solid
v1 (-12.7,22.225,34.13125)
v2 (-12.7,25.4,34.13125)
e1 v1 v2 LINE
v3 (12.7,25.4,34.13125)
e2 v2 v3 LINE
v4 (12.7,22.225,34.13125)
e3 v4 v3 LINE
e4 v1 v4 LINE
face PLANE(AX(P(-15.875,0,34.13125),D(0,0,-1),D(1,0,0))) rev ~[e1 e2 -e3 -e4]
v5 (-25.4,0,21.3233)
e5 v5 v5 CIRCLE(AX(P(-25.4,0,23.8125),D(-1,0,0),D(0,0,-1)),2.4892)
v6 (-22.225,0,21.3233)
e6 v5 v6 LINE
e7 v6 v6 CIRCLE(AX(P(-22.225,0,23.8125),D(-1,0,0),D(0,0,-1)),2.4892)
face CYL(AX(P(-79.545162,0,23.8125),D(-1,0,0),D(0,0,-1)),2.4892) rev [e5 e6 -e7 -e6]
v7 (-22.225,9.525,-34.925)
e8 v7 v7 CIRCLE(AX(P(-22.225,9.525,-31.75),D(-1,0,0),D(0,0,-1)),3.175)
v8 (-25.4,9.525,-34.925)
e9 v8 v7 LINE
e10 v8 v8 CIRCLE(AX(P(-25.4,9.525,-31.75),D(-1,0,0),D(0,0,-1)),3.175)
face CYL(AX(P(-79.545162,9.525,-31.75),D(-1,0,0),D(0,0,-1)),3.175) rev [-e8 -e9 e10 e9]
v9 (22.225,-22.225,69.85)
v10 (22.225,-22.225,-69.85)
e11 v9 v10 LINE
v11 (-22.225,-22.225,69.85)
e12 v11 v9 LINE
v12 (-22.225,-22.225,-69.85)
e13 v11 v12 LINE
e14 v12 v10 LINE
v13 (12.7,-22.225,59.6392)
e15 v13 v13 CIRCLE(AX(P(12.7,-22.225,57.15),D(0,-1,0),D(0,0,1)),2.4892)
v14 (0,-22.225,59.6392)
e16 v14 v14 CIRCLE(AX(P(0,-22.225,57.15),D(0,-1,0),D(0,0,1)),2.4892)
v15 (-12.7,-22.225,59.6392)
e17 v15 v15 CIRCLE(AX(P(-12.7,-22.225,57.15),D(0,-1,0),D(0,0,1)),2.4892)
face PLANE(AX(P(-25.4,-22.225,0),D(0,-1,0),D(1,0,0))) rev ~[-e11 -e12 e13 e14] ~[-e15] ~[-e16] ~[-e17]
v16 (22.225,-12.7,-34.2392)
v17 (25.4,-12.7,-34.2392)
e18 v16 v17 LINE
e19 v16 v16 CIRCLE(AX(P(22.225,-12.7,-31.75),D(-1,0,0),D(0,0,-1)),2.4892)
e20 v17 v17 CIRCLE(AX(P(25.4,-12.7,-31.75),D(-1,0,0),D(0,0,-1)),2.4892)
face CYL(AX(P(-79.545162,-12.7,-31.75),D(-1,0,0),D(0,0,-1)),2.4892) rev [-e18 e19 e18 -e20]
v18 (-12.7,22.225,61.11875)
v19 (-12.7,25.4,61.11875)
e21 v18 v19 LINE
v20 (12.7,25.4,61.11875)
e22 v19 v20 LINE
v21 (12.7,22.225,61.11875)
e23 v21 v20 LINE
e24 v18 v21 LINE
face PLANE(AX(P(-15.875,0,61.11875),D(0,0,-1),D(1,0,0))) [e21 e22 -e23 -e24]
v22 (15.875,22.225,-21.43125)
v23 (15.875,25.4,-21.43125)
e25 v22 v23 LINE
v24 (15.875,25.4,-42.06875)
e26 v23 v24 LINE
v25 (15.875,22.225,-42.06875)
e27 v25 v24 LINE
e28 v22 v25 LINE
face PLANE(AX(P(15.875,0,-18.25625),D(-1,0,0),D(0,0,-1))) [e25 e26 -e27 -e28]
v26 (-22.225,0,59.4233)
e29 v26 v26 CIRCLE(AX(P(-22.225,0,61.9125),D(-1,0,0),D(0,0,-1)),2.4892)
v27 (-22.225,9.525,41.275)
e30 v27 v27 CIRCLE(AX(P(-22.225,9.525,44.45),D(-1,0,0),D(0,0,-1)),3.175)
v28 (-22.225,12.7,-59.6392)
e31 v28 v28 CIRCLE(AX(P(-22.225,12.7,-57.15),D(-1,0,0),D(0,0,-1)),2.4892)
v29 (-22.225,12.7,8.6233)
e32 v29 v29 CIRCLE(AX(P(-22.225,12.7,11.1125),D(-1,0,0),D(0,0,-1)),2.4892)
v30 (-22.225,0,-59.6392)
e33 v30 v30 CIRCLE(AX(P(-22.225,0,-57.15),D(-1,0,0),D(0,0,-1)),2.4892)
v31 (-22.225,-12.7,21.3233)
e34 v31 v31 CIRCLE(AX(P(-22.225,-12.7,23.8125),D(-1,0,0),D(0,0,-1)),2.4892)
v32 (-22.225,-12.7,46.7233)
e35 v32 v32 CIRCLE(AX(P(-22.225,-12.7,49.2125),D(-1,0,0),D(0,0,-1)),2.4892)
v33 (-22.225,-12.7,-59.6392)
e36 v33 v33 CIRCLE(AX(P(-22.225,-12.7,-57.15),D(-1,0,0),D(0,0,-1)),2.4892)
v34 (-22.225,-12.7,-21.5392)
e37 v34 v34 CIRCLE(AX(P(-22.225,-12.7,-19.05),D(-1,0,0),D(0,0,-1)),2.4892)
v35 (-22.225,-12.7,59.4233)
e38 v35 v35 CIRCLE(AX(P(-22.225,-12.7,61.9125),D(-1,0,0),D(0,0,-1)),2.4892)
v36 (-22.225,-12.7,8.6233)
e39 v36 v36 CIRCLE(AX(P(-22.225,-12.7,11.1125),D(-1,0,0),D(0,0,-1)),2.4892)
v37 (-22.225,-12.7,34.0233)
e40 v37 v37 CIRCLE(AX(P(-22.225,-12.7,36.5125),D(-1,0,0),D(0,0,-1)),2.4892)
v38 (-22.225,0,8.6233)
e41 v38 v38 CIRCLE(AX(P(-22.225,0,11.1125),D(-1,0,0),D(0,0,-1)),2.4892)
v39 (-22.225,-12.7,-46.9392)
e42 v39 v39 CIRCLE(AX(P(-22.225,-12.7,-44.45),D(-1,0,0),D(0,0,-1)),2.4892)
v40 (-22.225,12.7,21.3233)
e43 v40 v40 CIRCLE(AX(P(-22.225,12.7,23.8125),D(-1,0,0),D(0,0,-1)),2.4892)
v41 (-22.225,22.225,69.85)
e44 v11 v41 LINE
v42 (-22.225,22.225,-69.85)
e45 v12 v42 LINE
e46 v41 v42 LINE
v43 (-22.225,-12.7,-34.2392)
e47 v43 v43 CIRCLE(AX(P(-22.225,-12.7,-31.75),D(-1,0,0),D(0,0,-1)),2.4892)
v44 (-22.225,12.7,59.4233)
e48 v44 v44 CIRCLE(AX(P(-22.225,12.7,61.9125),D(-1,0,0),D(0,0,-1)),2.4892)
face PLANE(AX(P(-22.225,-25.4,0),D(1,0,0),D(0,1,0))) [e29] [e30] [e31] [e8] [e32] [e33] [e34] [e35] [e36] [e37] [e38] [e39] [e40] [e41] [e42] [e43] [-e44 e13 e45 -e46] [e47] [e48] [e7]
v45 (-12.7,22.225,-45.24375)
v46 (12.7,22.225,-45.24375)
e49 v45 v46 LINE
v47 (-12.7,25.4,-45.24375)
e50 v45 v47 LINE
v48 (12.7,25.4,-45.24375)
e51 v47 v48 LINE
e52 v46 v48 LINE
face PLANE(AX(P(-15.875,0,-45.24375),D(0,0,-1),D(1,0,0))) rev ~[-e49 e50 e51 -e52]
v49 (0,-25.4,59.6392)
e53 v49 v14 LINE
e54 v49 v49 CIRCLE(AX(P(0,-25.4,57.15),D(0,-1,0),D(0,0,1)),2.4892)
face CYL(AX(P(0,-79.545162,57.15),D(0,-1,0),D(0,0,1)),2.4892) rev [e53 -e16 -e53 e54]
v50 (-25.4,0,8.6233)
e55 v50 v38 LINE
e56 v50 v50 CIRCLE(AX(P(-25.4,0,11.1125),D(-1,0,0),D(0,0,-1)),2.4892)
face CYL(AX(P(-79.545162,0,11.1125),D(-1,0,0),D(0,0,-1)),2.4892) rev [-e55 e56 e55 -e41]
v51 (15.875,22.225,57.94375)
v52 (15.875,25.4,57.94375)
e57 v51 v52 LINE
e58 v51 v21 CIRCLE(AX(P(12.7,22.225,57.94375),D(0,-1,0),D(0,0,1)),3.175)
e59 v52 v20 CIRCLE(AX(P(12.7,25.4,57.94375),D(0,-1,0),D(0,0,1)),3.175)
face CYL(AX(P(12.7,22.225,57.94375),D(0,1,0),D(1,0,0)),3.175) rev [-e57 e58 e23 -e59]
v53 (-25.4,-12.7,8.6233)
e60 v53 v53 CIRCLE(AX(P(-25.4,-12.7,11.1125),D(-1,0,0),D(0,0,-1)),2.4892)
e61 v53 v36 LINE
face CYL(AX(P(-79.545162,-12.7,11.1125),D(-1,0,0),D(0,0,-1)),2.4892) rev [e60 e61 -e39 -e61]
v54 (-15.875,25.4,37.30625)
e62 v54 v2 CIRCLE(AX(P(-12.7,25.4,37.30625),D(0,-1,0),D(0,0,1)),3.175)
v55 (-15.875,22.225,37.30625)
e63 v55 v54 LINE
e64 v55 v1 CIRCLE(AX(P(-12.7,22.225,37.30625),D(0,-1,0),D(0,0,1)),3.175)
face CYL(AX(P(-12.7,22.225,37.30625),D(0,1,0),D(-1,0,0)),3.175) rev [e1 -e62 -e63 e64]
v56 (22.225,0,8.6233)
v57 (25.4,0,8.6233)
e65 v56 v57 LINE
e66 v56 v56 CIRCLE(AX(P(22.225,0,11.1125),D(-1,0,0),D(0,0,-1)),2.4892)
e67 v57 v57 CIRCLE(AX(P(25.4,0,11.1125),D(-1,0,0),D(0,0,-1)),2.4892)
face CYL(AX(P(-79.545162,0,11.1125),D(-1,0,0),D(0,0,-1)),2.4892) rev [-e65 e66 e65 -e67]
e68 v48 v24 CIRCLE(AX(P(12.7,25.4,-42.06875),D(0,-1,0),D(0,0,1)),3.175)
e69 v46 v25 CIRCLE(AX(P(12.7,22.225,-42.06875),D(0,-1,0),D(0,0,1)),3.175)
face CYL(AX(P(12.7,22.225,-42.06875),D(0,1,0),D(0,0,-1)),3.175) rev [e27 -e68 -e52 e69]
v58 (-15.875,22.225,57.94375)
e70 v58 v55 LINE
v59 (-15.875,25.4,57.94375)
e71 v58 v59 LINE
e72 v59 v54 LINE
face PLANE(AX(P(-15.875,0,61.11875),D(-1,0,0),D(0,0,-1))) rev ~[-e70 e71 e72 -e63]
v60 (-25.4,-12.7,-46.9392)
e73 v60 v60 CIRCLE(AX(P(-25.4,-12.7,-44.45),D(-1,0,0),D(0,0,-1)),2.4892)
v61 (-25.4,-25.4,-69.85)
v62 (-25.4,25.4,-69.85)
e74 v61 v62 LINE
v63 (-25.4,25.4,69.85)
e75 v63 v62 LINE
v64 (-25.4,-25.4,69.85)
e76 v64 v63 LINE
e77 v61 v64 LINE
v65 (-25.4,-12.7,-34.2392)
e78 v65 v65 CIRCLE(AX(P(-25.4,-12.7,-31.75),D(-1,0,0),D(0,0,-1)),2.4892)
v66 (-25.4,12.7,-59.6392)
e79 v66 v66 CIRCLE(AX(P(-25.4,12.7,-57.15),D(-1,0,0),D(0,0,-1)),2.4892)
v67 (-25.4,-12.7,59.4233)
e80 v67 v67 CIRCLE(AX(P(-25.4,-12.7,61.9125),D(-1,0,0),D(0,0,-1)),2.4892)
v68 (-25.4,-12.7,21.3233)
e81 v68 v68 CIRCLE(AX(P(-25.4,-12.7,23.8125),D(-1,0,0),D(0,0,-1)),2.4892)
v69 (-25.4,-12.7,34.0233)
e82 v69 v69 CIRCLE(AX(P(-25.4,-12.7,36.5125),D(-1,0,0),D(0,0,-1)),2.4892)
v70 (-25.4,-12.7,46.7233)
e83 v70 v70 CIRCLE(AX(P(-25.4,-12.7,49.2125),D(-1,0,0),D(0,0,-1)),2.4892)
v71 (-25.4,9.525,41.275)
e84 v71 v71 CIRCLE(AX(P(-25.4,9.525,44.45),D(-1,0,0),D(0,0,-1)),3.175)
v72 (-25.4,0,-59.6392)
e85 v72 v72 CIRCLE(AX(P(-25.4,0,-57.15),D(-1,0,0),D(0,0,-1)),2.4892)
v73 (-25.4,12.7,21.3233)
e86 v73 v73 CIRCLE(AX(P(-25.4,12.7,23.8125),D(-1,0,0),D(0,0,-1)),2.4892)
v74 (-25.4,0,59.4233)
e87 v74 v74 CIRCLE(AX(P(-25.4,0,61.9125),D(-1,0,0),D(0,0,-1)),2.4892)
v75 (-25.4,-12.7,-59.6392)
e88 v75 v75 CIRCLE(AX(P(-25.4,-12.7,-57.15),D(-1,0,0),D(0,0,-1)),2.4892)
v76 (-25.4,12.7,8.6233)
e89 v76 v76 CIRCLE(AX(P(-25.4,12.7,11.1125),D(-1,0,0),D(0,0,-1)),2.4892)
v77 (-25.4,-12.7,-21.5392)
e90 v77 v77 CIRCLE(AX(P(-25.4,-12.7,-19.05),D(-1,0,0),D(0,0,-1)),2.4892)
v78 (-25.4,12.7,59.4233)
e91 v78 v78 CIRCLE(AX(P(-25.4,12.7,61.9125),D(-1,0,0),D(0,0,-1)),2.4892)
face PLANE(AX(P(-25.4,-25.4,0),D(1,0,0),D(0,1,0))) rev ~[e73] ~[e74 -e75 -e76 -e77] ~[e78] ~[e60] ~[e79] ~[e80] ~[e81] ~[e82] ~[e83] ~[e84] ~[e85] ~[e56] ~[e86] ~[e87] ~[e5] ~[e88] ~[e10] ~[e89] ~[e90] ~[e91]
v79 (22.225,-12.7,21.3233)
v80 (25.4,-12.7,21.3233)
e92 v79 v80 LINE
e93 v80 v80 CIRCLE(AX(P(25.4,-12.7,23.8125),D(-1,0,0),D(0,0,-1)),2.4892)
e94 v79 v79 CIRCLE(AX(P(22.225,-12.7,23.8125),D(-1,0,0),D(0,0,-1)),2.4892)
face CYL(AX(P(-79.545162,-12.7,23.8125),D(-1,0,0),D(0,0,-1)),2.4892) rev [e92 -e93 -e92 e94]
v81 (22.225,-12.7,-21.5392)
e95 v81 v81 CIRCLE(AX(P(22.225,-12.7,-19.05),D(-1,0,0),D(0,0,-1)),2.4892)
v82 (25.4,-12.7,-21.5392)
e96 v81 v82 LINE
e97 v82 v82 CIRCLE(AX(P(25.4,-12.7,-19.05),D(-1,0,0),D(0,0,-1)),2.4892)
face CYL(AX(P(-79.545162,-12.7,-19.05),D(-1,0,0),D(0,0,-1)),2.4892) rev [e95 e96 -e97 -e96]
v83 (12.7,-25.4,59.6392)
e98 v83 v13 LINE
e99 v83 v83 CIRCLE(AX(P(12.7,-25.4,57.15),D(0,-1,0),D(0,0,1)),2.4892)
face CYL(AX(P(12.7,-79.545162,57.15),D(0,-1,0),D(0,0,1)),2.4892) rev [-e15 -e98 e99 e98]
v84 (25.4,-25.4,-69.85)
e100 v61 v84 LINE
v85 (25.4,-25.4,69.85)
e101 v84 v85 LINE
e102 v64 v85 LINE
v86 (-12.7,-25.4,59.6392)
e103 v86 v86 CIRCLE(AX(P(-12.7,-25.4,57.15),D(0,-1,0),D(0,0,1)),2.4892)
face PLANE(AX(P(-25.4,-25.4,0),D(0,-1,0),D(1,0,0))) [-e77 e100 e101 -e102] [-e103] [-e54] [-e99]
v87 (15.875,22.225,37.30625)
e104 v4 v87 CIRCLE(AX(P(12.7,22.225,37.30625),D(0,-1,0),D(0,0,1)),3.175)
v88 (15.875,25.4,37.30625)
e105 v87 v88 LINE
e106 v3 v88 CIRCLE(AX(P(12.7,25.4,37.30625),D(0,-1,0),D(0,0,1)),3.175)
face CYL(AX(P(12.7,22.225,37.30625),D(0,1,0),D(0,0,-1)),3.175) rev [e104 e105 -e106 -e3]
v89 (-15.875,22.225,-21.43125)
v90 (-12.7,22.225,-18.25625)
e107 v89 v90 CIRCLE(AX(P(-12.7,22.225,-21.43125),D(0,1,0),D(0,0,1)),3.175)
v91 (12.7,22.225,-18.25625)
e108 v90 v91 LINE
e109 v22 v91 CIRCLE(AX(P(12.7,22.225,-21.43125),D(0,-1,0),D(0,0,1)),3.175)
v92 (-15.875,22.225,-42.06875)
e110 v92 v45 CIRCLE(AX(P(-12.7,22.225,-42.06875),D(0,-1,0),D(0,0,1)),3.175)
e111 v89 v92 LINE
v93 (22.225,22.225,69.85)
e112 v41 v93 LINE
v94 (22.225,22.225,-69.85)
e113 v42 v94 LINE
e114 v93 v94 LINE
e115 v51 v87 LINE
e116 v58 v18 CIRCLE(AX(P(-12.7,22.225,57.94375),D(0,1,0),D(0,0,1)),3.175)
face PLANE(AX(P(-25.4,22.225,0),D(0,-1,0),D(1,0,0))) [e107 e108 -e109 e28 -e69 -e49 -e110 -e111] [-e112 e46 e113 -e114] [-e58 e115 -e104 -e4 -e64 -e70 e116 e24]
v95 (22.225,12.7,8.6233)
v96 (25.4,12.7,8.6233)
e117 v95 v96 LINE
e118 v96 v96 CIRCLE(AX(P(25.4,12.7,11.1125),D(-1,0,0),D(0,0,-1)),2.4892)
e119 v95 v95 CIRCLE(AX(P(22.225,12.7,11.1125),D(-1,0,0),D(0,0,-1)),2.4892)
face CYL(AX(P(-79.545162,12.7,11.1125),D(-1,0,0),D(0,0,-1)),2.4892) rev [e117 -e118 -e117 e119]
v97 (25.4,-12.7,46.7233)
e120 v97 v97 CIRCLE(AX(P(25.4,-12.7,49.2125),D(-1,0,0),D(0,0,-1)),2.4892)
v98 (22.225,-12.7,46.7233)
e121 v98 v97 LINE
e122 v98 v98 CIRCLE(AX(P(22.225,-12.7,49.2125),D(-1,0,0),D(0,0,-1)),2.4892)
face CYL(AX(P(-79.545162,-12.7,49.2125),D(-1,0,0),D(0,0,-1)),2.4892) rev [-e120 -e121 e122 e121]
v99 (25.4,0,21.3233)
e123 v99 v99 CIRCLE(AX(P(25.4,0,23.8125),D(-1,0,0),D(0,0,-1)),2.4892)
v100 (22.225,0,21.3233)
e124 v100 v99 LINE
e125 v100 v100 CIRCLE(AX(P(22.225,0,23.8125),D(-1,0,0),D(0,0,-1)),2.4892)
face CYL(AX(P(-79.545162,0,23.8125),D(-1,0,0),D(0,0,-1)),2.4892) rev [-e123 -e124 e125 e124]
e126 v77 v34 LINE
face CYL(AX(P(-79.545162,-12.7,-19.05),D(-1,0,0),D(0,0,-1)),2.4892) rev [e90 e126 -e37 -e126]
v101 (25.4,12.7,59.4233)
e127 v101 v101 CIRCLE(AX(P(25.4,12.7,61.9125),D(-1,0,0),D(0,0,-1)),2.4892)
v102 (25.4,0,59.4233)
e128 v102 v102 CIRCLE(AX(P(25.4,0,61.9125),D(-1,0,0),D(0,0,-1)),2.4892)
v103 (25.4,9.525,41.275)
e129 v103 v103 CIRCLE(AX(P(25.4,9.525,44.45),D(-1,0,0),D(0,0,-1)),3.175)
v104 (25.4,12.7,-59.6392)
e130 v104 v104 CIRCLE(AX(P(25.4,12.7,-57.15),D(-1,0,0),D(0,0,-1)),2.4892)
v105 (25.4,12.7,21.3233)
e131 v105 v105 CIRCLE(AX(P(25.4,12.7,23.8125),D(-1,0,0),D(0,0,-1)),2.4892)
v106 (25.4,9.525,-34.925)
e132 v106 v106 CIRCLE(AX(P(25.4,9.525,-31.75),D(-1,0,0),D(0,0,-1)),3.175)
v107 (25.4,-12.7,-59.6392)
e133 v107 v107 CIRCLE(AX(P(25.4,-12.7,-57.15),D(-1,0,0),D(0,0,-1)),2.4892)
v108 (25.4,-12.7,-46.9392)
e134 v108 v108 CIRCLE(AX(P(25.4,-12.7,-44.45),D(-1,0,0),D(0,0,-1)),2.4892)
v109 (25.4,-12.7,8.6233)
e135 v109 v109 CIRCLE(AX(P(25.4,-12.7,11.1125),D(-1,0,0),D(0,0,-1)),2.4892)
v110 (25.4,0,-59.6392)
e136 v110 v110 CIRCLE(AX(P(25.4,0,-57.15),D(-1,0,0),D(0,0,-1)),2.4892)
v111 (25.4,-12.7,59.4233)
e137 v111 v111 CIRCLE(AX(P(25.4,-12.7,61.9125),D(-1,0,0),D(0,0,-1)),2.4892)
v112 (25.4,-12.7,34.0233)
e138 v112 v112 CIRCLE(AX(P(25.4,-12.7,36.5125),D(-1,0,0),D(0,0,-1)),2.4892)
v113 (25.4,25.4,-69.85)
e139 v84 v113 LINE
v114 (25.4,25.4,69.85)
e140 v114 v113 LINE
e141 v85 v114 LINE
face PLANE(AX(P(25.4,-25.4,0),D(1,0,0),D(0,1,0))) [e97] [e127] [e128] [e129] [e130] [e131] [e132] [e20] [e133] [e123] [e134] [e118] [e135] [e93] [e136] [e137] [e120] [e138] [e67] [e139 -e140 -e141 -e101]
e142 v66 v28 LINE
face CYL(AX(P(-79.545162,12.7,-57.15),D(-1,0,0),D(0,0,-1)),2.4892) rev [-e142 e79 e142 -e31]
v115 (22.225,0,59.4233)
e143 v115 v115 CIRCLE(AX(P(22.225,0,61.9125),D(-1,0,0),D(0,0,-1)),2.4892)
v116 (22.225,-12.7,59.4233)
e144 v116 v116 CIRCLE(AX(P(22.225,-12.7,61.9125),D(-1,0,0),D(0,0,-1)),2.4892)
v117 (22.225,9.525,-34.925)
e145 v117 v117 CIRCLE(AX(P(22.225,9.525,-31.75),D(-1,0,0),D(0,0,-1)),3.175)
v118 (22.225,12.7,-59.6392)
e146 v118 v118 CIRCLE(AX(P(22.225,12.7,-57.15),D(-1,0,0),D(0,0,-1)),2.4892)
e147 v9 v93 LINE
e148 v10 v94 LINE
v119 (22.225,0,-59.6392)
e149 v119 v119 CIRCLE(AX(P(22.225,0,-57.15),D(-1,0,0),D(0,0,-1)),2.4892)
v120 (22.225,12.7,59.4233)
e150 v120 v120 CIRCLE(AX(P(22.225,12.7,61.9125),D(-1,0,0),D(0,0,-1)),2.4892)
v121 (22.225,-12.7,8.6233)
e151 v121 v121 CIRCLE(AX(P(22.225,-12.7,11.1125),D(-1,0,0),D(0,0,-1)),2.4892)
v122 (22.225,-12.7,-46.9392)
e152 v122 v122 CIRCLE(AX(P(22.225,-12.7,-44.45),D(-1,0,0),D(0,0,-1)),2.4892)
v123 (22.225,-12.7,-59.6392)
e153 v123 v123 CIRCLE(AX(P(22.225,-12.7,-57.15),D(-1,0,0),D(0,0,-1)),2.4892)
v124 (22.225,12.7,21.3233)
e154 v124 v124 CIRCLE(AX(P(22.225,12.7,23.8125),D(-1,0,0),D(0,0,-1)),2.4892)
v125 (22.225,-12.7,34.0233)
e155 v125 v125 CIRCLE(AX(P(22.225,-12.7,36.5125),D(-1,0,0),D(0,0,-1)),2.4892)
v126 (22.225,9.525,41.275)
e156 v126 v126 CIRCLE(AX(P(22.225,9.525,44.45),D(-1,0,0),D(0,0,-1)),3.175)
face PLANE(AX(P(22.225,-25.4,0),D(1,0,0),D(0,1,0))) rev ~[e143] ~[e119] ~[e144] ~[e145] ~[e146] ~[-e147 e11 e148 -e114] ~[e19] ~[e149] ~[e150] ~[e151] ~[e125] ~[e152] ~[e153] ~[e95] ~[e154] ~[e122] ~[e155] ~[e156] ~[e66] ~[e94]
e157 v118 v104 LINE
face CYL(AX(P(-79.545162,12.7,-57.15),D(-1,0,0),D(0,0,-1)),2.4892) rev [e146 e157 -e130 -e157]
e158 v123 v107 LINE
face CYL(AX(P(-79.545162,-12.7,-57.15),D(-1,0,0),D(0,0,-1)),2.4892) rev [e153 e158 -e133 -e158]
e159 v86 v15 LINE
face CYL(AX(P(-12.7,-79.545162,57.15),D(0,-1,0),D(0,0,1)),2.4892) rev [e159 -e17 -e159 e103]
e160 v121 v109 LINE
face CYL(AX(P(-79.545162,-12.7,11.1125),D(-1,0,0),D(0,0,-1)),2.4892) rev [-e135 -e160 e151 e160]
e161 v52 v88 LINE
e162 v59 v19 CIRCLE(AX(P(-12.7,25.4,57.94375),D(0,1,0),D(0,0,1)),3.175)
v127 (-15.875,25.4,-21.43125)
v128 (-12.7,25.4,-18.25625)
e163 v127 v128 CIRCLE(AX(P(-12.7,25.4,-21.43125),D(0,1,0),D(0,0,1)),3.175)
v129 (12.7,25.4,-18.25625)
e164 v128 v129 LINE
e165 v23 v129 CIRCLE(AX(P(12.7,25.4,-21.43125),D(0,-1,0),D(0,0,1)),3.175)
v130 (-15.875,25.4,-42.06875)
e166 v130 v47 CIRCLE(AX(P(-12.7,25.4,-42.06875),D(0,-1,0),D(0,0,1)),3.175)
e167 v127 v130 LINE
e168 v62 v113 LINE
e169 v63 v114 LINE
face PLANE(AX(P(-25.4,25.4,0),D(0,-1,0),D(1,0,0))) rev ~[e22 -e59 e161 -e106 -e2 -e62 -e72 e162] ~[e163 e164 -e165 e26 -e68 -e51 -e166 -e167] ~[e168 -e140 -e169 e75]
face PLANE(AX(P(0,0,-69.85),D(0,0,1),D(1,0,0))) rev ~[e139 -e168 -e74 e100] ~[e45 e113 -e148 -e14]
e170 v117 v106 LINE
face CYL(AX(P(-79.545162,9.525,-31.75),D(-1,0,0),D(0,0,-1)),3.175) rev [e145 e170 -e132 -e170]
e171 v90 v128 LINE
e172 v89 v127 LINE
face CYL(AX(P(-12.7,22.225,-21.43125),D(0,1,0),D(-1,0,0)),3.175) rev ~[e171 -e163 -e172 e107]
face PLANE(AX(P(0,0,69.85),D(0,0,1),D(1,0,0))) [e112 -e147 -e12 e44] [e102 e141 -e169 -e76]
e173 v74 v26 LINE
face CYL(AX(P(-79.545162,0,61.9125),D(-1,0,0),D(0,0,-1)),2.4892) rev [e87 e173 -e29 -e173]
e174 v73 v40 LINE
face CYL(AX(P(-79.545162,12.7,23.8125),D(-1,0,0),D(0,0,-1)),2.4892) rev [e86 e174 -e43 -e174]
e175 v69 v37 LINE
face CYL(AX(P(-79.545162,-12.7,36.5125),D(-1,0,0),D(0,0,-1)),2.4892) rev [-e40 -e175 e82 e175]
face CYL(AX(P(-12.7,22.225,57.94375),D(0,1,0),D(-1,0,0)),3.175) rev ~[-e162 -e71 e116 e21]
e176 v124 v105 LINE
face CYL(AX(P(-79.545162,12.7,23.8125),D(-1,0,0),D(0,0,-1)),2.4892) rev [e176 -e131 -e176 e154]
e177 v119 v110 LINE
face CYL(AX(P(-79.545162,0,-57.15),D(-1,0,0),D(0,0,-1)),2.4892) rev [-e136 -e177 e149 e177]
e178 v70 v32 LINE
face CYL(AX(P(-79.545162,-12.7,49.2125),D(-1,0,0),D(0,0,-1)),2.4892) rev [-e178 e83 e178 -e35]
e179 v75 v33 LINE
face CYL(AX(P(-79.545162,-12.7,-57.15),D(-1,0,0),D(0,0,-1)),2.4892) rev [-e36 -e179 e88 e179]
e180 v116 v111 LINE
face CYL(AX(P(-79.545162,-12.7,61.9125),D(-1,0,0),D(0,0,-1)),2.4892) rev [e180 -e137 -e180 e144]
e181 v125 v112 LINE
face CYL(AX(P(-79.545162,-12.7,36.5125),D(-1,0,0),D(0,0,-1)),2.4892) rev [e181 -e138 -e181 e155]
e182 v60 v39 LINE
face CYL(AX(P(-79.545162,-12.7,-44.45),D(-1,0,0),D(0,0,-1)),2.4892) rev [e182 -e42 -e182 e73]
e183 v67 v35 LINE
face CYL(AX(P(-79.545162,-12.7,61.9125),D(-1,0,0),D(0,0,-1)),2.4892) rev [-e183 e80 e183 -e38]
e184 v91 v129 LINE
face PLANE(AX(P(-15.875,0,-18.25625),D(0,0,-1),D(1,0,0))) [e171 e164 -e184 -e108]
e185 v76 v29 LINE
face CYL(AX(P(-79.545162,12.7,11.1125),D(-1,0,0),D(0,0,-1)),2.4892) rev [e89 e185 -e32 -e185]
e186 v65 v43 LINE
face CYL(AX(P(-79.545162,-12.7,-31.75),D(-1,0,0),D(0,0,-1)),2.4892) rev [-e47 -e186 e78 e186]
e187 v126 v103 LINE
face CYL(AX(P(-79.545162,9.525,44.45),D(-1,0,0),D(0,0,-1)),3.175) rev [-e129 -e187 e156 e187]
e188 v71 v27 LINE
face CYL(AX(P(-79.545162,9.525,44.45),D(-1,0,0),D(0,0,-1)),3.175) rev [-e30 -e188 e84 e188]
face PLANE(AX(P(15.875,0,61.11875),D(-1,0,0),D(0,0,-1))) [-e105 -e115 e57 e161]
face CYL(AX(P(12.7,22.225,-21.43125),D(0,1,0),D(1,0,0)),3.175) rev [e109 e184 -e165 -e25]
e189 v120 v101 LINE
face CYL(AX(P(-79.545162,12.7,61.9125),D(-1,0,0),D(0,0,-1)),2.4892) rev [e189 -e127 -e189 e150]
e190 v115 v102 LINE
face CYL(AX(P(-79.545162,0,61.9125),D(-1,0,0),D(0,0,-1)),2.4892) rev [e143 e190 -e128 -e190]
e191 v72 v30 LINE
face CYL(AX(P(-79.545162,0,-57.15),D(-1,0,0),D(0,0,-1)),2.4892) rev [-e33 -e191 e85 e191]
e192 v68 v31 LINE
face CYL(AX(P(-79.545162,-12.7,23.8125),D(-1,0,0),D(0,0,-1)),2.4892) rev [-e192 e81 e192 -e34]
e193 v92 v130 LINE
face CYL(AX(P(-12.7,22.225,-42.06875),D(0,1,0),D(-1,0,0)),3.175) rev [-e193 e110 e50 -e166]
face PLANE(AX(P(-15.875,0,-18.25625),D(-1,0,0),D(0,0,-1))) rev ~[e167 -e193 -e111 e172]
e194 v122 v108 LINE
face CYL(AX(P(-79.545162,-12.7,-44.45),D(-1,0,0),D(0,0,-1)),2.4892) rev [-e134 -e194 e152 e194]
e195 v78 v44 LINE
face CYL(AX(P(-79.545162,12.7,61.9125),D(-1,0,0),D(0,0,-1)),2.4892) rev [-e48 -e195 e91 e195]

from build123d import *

# Parameters (mm, degrees)
SKETCH1_W               = 50.8
SKETCH1_H               = 50.8
BOSS_EXTRUDE1_DEPTH     = 69.85
SHELL1_T                = -3.175
SKETCH2_W               = 31.75
SKETCH2_H               = 26.9875
CUT_EXTRUDE1_DEPTH      = 79.545162168
FILLET1_R               = 3.175
CUT_EXTRUDE2_DEPTH      = 79.545162168
CUT_EXTRUDE2_DEPTH_BACK = 79.545162168
SKETCH3_R               = 3.175
CUT_EXTRUDE3_DEPTH      = 79.545162168
CUT_EXTRUDE3_DEPTH_BACK = 79.545162168
SKETCH4_R               = 2.4892
CUT_EXTRUDE4_DEPTH      = 79.545162168
CUT_EXTRUDE4_DEPTH_BACK = 79.545162168
SKETCH5_R               = 2.4892
FILLET2_R               = 3.175


with BuildPart() as part:
    # Sketch1 → Boss-Extrude1 (new, symmetric)
    with BuildSketch(Plane.XY):
        Rectangle(SKETCH1_W, SKETCH1_H)
    extrude(amount=BOSS_EXTRUDE1_DEPTH, both=True)

    # Shell1
    shell1_openings = [part.faces().sort_by_distance(p)[0] for p in [
        (0, 0, 69.85),
        (0, 0, -69.85),
    ]]
    offset(amount=SHELL1_T, openings=shell1_openings, kind=Kind.INTERSECTION)

    # Sketch2 → Cut-Extrude1 (cut, through all)
    with BuildSketch(Plane(origin=(0, 0, 0), x_dir=(1, 0, 0), z_dir=(0, 1, 0))):
        with Locations((0, 31.75)):
            Rectangle(SKETCH2_W, SKETCH2_H)
        with Locations((0, -47.625)):
            Rectangle(SKETCH2_W, SKETCH2_H)
    extrude(amount=CUT_EXTRUDE1_DEPTH, mode=Mode.SUBTRACT)

    # Fillet1
    fillet1_edges = [part.edges().sort_by_distance(p)[0] for p in [
        (15.875, 23.8125, -18.25625),
        (15.875, 23.8125, -45.24375),
        (-15.875, 23.8125, -45.24375),
        (-15.875, 23.8125, -18.25625),
    ]]
    fillet(fillet1_edges, radius=FILLET1_R)

    # Sketch3 → Cut-Extrude2 (cut, two sides: drawn at the far end of the back side and taken through both)
    with BuildSketch(Plane(origin=(0, 0, 0), x_dir=(0, 0, -1), z_dir=(1, 0, 0)).offset(-CUT_EXTRUDE2_DEPTH_BACK)):
        with Locations((31.75, 9.525)):
            Circle(SKETCH3_R)
        with Locations((-44.45, 9.525)):
            Circle(SKETCH3_R)
    extrude(amount=CUT_EXTRUDE2_DEPTH + CUT_EXTRUDE2_DEPTH_BACK, mode=Mode.SUBTRACT)

    # Sketch4 → Cut-Extrude3 (cut, two sides: drawn at the far end of the back side and taken through both)
    with BuildSketch(Plane(origin=(0, 0, 0), x_dir=(0, 0, -1), z_dir=(1, 0, 0)).offset(-CUT_EXTRUDE3_DEPTH_BACK)):
        with Locations((57.15, 12.7)):
            Circle(SKETCH4_R)
        with Locations((44.45, -12.7)):
            Circle(SKETCH4_R)
        with Locations((31.75, -12.7)):
            Circle(SKETCH4_R)
        with Locations((19.05, -12.7)):
            Circle(SKETCH4_R)
        with Locations((57.15, 0)):
            Circle(SKETCH4_R)
        with Locations((57.15, -12.7)):
            Circle(SKETCH4_R)
        with Locations((-61.9125, 12.7)):
            Circle(SKETCH4_R)
        with Locations((-23.8125, 12.7)):
            Circle(SKETCH4_R)
        with Locations((-11.1125, 12.7)):
            Circle(SKETCH4_R)
        with Locations((-23.8125, 0)):
            Circle(SKETCH4_R)
        with Locations((-11.1125, 0)):
            Circle(SKETCH4_R)
        with Locations((-49.2125, -12.7)):
            Circle(SKETCH4_R)
        with Locations((-36.5125, -12.7)):
            Circle(SKETCH4_R)
        with Locations((-23.8125, -12.7)):
            Circle(SKETCH4_R)
        with Locations((-11.1125, -12.7)):
            Circle(SKETCH4_R)
        with Locations((-61.9125, 0)):
            Circle(SKETCH4_R)
        with Locations((-61.9125, -12.7)):
            Circle(SKETCH4_R)
    extrude(amount=CUT_EXTRUDE3_DEPTH + CUT_EXTRUDE3_DEPTH_BACK, mode=Mode.SUBTRACT)

    # Sketch5 → Cut-Extrude4 (cut, two sides: drawn at the far end of the back side and taken through both)
    with BuildSketch(Plane(origin=(0, 0, 0), x_dir=(1, 0, 0), z_dir=(0, 1, 0)).offset(-CUT_EXTRUDE4_DEPTH_BACK)):
        with Locations(Location((-12.7, -57.15, 0), (0, 0, 270))):
            Circle(SKETCH5_R)
        with Locations(Location((0, -57.15, 0), (0, 0, 270))):
            Circle(SKETCH5_R)
        with Locations(Location((12.7, -57.15, 0), (0, 0, 270))):
            Circle(SKETCH5_R)
    extrude(amount=CUT_EXTRUDE4_DEPTH + CUT_EXTRUDE4_DEPTH_BACK, mode=Mode.SUBTRACT)

    # Fillet2
    fillet2_edges = [part.edges().sort_by_distance(p)[0] for p in [
        (15.875, 23.8125, 61.11875),
        (15.875, 23.8125, 34.13125),
        (-15.875, 23.8125, 34.13125),
        (-15.875, 23.8125, 61.11875),
    ]]
    fillet(fillet2_edges, radius=FILLET2_R)


solid = part.part
